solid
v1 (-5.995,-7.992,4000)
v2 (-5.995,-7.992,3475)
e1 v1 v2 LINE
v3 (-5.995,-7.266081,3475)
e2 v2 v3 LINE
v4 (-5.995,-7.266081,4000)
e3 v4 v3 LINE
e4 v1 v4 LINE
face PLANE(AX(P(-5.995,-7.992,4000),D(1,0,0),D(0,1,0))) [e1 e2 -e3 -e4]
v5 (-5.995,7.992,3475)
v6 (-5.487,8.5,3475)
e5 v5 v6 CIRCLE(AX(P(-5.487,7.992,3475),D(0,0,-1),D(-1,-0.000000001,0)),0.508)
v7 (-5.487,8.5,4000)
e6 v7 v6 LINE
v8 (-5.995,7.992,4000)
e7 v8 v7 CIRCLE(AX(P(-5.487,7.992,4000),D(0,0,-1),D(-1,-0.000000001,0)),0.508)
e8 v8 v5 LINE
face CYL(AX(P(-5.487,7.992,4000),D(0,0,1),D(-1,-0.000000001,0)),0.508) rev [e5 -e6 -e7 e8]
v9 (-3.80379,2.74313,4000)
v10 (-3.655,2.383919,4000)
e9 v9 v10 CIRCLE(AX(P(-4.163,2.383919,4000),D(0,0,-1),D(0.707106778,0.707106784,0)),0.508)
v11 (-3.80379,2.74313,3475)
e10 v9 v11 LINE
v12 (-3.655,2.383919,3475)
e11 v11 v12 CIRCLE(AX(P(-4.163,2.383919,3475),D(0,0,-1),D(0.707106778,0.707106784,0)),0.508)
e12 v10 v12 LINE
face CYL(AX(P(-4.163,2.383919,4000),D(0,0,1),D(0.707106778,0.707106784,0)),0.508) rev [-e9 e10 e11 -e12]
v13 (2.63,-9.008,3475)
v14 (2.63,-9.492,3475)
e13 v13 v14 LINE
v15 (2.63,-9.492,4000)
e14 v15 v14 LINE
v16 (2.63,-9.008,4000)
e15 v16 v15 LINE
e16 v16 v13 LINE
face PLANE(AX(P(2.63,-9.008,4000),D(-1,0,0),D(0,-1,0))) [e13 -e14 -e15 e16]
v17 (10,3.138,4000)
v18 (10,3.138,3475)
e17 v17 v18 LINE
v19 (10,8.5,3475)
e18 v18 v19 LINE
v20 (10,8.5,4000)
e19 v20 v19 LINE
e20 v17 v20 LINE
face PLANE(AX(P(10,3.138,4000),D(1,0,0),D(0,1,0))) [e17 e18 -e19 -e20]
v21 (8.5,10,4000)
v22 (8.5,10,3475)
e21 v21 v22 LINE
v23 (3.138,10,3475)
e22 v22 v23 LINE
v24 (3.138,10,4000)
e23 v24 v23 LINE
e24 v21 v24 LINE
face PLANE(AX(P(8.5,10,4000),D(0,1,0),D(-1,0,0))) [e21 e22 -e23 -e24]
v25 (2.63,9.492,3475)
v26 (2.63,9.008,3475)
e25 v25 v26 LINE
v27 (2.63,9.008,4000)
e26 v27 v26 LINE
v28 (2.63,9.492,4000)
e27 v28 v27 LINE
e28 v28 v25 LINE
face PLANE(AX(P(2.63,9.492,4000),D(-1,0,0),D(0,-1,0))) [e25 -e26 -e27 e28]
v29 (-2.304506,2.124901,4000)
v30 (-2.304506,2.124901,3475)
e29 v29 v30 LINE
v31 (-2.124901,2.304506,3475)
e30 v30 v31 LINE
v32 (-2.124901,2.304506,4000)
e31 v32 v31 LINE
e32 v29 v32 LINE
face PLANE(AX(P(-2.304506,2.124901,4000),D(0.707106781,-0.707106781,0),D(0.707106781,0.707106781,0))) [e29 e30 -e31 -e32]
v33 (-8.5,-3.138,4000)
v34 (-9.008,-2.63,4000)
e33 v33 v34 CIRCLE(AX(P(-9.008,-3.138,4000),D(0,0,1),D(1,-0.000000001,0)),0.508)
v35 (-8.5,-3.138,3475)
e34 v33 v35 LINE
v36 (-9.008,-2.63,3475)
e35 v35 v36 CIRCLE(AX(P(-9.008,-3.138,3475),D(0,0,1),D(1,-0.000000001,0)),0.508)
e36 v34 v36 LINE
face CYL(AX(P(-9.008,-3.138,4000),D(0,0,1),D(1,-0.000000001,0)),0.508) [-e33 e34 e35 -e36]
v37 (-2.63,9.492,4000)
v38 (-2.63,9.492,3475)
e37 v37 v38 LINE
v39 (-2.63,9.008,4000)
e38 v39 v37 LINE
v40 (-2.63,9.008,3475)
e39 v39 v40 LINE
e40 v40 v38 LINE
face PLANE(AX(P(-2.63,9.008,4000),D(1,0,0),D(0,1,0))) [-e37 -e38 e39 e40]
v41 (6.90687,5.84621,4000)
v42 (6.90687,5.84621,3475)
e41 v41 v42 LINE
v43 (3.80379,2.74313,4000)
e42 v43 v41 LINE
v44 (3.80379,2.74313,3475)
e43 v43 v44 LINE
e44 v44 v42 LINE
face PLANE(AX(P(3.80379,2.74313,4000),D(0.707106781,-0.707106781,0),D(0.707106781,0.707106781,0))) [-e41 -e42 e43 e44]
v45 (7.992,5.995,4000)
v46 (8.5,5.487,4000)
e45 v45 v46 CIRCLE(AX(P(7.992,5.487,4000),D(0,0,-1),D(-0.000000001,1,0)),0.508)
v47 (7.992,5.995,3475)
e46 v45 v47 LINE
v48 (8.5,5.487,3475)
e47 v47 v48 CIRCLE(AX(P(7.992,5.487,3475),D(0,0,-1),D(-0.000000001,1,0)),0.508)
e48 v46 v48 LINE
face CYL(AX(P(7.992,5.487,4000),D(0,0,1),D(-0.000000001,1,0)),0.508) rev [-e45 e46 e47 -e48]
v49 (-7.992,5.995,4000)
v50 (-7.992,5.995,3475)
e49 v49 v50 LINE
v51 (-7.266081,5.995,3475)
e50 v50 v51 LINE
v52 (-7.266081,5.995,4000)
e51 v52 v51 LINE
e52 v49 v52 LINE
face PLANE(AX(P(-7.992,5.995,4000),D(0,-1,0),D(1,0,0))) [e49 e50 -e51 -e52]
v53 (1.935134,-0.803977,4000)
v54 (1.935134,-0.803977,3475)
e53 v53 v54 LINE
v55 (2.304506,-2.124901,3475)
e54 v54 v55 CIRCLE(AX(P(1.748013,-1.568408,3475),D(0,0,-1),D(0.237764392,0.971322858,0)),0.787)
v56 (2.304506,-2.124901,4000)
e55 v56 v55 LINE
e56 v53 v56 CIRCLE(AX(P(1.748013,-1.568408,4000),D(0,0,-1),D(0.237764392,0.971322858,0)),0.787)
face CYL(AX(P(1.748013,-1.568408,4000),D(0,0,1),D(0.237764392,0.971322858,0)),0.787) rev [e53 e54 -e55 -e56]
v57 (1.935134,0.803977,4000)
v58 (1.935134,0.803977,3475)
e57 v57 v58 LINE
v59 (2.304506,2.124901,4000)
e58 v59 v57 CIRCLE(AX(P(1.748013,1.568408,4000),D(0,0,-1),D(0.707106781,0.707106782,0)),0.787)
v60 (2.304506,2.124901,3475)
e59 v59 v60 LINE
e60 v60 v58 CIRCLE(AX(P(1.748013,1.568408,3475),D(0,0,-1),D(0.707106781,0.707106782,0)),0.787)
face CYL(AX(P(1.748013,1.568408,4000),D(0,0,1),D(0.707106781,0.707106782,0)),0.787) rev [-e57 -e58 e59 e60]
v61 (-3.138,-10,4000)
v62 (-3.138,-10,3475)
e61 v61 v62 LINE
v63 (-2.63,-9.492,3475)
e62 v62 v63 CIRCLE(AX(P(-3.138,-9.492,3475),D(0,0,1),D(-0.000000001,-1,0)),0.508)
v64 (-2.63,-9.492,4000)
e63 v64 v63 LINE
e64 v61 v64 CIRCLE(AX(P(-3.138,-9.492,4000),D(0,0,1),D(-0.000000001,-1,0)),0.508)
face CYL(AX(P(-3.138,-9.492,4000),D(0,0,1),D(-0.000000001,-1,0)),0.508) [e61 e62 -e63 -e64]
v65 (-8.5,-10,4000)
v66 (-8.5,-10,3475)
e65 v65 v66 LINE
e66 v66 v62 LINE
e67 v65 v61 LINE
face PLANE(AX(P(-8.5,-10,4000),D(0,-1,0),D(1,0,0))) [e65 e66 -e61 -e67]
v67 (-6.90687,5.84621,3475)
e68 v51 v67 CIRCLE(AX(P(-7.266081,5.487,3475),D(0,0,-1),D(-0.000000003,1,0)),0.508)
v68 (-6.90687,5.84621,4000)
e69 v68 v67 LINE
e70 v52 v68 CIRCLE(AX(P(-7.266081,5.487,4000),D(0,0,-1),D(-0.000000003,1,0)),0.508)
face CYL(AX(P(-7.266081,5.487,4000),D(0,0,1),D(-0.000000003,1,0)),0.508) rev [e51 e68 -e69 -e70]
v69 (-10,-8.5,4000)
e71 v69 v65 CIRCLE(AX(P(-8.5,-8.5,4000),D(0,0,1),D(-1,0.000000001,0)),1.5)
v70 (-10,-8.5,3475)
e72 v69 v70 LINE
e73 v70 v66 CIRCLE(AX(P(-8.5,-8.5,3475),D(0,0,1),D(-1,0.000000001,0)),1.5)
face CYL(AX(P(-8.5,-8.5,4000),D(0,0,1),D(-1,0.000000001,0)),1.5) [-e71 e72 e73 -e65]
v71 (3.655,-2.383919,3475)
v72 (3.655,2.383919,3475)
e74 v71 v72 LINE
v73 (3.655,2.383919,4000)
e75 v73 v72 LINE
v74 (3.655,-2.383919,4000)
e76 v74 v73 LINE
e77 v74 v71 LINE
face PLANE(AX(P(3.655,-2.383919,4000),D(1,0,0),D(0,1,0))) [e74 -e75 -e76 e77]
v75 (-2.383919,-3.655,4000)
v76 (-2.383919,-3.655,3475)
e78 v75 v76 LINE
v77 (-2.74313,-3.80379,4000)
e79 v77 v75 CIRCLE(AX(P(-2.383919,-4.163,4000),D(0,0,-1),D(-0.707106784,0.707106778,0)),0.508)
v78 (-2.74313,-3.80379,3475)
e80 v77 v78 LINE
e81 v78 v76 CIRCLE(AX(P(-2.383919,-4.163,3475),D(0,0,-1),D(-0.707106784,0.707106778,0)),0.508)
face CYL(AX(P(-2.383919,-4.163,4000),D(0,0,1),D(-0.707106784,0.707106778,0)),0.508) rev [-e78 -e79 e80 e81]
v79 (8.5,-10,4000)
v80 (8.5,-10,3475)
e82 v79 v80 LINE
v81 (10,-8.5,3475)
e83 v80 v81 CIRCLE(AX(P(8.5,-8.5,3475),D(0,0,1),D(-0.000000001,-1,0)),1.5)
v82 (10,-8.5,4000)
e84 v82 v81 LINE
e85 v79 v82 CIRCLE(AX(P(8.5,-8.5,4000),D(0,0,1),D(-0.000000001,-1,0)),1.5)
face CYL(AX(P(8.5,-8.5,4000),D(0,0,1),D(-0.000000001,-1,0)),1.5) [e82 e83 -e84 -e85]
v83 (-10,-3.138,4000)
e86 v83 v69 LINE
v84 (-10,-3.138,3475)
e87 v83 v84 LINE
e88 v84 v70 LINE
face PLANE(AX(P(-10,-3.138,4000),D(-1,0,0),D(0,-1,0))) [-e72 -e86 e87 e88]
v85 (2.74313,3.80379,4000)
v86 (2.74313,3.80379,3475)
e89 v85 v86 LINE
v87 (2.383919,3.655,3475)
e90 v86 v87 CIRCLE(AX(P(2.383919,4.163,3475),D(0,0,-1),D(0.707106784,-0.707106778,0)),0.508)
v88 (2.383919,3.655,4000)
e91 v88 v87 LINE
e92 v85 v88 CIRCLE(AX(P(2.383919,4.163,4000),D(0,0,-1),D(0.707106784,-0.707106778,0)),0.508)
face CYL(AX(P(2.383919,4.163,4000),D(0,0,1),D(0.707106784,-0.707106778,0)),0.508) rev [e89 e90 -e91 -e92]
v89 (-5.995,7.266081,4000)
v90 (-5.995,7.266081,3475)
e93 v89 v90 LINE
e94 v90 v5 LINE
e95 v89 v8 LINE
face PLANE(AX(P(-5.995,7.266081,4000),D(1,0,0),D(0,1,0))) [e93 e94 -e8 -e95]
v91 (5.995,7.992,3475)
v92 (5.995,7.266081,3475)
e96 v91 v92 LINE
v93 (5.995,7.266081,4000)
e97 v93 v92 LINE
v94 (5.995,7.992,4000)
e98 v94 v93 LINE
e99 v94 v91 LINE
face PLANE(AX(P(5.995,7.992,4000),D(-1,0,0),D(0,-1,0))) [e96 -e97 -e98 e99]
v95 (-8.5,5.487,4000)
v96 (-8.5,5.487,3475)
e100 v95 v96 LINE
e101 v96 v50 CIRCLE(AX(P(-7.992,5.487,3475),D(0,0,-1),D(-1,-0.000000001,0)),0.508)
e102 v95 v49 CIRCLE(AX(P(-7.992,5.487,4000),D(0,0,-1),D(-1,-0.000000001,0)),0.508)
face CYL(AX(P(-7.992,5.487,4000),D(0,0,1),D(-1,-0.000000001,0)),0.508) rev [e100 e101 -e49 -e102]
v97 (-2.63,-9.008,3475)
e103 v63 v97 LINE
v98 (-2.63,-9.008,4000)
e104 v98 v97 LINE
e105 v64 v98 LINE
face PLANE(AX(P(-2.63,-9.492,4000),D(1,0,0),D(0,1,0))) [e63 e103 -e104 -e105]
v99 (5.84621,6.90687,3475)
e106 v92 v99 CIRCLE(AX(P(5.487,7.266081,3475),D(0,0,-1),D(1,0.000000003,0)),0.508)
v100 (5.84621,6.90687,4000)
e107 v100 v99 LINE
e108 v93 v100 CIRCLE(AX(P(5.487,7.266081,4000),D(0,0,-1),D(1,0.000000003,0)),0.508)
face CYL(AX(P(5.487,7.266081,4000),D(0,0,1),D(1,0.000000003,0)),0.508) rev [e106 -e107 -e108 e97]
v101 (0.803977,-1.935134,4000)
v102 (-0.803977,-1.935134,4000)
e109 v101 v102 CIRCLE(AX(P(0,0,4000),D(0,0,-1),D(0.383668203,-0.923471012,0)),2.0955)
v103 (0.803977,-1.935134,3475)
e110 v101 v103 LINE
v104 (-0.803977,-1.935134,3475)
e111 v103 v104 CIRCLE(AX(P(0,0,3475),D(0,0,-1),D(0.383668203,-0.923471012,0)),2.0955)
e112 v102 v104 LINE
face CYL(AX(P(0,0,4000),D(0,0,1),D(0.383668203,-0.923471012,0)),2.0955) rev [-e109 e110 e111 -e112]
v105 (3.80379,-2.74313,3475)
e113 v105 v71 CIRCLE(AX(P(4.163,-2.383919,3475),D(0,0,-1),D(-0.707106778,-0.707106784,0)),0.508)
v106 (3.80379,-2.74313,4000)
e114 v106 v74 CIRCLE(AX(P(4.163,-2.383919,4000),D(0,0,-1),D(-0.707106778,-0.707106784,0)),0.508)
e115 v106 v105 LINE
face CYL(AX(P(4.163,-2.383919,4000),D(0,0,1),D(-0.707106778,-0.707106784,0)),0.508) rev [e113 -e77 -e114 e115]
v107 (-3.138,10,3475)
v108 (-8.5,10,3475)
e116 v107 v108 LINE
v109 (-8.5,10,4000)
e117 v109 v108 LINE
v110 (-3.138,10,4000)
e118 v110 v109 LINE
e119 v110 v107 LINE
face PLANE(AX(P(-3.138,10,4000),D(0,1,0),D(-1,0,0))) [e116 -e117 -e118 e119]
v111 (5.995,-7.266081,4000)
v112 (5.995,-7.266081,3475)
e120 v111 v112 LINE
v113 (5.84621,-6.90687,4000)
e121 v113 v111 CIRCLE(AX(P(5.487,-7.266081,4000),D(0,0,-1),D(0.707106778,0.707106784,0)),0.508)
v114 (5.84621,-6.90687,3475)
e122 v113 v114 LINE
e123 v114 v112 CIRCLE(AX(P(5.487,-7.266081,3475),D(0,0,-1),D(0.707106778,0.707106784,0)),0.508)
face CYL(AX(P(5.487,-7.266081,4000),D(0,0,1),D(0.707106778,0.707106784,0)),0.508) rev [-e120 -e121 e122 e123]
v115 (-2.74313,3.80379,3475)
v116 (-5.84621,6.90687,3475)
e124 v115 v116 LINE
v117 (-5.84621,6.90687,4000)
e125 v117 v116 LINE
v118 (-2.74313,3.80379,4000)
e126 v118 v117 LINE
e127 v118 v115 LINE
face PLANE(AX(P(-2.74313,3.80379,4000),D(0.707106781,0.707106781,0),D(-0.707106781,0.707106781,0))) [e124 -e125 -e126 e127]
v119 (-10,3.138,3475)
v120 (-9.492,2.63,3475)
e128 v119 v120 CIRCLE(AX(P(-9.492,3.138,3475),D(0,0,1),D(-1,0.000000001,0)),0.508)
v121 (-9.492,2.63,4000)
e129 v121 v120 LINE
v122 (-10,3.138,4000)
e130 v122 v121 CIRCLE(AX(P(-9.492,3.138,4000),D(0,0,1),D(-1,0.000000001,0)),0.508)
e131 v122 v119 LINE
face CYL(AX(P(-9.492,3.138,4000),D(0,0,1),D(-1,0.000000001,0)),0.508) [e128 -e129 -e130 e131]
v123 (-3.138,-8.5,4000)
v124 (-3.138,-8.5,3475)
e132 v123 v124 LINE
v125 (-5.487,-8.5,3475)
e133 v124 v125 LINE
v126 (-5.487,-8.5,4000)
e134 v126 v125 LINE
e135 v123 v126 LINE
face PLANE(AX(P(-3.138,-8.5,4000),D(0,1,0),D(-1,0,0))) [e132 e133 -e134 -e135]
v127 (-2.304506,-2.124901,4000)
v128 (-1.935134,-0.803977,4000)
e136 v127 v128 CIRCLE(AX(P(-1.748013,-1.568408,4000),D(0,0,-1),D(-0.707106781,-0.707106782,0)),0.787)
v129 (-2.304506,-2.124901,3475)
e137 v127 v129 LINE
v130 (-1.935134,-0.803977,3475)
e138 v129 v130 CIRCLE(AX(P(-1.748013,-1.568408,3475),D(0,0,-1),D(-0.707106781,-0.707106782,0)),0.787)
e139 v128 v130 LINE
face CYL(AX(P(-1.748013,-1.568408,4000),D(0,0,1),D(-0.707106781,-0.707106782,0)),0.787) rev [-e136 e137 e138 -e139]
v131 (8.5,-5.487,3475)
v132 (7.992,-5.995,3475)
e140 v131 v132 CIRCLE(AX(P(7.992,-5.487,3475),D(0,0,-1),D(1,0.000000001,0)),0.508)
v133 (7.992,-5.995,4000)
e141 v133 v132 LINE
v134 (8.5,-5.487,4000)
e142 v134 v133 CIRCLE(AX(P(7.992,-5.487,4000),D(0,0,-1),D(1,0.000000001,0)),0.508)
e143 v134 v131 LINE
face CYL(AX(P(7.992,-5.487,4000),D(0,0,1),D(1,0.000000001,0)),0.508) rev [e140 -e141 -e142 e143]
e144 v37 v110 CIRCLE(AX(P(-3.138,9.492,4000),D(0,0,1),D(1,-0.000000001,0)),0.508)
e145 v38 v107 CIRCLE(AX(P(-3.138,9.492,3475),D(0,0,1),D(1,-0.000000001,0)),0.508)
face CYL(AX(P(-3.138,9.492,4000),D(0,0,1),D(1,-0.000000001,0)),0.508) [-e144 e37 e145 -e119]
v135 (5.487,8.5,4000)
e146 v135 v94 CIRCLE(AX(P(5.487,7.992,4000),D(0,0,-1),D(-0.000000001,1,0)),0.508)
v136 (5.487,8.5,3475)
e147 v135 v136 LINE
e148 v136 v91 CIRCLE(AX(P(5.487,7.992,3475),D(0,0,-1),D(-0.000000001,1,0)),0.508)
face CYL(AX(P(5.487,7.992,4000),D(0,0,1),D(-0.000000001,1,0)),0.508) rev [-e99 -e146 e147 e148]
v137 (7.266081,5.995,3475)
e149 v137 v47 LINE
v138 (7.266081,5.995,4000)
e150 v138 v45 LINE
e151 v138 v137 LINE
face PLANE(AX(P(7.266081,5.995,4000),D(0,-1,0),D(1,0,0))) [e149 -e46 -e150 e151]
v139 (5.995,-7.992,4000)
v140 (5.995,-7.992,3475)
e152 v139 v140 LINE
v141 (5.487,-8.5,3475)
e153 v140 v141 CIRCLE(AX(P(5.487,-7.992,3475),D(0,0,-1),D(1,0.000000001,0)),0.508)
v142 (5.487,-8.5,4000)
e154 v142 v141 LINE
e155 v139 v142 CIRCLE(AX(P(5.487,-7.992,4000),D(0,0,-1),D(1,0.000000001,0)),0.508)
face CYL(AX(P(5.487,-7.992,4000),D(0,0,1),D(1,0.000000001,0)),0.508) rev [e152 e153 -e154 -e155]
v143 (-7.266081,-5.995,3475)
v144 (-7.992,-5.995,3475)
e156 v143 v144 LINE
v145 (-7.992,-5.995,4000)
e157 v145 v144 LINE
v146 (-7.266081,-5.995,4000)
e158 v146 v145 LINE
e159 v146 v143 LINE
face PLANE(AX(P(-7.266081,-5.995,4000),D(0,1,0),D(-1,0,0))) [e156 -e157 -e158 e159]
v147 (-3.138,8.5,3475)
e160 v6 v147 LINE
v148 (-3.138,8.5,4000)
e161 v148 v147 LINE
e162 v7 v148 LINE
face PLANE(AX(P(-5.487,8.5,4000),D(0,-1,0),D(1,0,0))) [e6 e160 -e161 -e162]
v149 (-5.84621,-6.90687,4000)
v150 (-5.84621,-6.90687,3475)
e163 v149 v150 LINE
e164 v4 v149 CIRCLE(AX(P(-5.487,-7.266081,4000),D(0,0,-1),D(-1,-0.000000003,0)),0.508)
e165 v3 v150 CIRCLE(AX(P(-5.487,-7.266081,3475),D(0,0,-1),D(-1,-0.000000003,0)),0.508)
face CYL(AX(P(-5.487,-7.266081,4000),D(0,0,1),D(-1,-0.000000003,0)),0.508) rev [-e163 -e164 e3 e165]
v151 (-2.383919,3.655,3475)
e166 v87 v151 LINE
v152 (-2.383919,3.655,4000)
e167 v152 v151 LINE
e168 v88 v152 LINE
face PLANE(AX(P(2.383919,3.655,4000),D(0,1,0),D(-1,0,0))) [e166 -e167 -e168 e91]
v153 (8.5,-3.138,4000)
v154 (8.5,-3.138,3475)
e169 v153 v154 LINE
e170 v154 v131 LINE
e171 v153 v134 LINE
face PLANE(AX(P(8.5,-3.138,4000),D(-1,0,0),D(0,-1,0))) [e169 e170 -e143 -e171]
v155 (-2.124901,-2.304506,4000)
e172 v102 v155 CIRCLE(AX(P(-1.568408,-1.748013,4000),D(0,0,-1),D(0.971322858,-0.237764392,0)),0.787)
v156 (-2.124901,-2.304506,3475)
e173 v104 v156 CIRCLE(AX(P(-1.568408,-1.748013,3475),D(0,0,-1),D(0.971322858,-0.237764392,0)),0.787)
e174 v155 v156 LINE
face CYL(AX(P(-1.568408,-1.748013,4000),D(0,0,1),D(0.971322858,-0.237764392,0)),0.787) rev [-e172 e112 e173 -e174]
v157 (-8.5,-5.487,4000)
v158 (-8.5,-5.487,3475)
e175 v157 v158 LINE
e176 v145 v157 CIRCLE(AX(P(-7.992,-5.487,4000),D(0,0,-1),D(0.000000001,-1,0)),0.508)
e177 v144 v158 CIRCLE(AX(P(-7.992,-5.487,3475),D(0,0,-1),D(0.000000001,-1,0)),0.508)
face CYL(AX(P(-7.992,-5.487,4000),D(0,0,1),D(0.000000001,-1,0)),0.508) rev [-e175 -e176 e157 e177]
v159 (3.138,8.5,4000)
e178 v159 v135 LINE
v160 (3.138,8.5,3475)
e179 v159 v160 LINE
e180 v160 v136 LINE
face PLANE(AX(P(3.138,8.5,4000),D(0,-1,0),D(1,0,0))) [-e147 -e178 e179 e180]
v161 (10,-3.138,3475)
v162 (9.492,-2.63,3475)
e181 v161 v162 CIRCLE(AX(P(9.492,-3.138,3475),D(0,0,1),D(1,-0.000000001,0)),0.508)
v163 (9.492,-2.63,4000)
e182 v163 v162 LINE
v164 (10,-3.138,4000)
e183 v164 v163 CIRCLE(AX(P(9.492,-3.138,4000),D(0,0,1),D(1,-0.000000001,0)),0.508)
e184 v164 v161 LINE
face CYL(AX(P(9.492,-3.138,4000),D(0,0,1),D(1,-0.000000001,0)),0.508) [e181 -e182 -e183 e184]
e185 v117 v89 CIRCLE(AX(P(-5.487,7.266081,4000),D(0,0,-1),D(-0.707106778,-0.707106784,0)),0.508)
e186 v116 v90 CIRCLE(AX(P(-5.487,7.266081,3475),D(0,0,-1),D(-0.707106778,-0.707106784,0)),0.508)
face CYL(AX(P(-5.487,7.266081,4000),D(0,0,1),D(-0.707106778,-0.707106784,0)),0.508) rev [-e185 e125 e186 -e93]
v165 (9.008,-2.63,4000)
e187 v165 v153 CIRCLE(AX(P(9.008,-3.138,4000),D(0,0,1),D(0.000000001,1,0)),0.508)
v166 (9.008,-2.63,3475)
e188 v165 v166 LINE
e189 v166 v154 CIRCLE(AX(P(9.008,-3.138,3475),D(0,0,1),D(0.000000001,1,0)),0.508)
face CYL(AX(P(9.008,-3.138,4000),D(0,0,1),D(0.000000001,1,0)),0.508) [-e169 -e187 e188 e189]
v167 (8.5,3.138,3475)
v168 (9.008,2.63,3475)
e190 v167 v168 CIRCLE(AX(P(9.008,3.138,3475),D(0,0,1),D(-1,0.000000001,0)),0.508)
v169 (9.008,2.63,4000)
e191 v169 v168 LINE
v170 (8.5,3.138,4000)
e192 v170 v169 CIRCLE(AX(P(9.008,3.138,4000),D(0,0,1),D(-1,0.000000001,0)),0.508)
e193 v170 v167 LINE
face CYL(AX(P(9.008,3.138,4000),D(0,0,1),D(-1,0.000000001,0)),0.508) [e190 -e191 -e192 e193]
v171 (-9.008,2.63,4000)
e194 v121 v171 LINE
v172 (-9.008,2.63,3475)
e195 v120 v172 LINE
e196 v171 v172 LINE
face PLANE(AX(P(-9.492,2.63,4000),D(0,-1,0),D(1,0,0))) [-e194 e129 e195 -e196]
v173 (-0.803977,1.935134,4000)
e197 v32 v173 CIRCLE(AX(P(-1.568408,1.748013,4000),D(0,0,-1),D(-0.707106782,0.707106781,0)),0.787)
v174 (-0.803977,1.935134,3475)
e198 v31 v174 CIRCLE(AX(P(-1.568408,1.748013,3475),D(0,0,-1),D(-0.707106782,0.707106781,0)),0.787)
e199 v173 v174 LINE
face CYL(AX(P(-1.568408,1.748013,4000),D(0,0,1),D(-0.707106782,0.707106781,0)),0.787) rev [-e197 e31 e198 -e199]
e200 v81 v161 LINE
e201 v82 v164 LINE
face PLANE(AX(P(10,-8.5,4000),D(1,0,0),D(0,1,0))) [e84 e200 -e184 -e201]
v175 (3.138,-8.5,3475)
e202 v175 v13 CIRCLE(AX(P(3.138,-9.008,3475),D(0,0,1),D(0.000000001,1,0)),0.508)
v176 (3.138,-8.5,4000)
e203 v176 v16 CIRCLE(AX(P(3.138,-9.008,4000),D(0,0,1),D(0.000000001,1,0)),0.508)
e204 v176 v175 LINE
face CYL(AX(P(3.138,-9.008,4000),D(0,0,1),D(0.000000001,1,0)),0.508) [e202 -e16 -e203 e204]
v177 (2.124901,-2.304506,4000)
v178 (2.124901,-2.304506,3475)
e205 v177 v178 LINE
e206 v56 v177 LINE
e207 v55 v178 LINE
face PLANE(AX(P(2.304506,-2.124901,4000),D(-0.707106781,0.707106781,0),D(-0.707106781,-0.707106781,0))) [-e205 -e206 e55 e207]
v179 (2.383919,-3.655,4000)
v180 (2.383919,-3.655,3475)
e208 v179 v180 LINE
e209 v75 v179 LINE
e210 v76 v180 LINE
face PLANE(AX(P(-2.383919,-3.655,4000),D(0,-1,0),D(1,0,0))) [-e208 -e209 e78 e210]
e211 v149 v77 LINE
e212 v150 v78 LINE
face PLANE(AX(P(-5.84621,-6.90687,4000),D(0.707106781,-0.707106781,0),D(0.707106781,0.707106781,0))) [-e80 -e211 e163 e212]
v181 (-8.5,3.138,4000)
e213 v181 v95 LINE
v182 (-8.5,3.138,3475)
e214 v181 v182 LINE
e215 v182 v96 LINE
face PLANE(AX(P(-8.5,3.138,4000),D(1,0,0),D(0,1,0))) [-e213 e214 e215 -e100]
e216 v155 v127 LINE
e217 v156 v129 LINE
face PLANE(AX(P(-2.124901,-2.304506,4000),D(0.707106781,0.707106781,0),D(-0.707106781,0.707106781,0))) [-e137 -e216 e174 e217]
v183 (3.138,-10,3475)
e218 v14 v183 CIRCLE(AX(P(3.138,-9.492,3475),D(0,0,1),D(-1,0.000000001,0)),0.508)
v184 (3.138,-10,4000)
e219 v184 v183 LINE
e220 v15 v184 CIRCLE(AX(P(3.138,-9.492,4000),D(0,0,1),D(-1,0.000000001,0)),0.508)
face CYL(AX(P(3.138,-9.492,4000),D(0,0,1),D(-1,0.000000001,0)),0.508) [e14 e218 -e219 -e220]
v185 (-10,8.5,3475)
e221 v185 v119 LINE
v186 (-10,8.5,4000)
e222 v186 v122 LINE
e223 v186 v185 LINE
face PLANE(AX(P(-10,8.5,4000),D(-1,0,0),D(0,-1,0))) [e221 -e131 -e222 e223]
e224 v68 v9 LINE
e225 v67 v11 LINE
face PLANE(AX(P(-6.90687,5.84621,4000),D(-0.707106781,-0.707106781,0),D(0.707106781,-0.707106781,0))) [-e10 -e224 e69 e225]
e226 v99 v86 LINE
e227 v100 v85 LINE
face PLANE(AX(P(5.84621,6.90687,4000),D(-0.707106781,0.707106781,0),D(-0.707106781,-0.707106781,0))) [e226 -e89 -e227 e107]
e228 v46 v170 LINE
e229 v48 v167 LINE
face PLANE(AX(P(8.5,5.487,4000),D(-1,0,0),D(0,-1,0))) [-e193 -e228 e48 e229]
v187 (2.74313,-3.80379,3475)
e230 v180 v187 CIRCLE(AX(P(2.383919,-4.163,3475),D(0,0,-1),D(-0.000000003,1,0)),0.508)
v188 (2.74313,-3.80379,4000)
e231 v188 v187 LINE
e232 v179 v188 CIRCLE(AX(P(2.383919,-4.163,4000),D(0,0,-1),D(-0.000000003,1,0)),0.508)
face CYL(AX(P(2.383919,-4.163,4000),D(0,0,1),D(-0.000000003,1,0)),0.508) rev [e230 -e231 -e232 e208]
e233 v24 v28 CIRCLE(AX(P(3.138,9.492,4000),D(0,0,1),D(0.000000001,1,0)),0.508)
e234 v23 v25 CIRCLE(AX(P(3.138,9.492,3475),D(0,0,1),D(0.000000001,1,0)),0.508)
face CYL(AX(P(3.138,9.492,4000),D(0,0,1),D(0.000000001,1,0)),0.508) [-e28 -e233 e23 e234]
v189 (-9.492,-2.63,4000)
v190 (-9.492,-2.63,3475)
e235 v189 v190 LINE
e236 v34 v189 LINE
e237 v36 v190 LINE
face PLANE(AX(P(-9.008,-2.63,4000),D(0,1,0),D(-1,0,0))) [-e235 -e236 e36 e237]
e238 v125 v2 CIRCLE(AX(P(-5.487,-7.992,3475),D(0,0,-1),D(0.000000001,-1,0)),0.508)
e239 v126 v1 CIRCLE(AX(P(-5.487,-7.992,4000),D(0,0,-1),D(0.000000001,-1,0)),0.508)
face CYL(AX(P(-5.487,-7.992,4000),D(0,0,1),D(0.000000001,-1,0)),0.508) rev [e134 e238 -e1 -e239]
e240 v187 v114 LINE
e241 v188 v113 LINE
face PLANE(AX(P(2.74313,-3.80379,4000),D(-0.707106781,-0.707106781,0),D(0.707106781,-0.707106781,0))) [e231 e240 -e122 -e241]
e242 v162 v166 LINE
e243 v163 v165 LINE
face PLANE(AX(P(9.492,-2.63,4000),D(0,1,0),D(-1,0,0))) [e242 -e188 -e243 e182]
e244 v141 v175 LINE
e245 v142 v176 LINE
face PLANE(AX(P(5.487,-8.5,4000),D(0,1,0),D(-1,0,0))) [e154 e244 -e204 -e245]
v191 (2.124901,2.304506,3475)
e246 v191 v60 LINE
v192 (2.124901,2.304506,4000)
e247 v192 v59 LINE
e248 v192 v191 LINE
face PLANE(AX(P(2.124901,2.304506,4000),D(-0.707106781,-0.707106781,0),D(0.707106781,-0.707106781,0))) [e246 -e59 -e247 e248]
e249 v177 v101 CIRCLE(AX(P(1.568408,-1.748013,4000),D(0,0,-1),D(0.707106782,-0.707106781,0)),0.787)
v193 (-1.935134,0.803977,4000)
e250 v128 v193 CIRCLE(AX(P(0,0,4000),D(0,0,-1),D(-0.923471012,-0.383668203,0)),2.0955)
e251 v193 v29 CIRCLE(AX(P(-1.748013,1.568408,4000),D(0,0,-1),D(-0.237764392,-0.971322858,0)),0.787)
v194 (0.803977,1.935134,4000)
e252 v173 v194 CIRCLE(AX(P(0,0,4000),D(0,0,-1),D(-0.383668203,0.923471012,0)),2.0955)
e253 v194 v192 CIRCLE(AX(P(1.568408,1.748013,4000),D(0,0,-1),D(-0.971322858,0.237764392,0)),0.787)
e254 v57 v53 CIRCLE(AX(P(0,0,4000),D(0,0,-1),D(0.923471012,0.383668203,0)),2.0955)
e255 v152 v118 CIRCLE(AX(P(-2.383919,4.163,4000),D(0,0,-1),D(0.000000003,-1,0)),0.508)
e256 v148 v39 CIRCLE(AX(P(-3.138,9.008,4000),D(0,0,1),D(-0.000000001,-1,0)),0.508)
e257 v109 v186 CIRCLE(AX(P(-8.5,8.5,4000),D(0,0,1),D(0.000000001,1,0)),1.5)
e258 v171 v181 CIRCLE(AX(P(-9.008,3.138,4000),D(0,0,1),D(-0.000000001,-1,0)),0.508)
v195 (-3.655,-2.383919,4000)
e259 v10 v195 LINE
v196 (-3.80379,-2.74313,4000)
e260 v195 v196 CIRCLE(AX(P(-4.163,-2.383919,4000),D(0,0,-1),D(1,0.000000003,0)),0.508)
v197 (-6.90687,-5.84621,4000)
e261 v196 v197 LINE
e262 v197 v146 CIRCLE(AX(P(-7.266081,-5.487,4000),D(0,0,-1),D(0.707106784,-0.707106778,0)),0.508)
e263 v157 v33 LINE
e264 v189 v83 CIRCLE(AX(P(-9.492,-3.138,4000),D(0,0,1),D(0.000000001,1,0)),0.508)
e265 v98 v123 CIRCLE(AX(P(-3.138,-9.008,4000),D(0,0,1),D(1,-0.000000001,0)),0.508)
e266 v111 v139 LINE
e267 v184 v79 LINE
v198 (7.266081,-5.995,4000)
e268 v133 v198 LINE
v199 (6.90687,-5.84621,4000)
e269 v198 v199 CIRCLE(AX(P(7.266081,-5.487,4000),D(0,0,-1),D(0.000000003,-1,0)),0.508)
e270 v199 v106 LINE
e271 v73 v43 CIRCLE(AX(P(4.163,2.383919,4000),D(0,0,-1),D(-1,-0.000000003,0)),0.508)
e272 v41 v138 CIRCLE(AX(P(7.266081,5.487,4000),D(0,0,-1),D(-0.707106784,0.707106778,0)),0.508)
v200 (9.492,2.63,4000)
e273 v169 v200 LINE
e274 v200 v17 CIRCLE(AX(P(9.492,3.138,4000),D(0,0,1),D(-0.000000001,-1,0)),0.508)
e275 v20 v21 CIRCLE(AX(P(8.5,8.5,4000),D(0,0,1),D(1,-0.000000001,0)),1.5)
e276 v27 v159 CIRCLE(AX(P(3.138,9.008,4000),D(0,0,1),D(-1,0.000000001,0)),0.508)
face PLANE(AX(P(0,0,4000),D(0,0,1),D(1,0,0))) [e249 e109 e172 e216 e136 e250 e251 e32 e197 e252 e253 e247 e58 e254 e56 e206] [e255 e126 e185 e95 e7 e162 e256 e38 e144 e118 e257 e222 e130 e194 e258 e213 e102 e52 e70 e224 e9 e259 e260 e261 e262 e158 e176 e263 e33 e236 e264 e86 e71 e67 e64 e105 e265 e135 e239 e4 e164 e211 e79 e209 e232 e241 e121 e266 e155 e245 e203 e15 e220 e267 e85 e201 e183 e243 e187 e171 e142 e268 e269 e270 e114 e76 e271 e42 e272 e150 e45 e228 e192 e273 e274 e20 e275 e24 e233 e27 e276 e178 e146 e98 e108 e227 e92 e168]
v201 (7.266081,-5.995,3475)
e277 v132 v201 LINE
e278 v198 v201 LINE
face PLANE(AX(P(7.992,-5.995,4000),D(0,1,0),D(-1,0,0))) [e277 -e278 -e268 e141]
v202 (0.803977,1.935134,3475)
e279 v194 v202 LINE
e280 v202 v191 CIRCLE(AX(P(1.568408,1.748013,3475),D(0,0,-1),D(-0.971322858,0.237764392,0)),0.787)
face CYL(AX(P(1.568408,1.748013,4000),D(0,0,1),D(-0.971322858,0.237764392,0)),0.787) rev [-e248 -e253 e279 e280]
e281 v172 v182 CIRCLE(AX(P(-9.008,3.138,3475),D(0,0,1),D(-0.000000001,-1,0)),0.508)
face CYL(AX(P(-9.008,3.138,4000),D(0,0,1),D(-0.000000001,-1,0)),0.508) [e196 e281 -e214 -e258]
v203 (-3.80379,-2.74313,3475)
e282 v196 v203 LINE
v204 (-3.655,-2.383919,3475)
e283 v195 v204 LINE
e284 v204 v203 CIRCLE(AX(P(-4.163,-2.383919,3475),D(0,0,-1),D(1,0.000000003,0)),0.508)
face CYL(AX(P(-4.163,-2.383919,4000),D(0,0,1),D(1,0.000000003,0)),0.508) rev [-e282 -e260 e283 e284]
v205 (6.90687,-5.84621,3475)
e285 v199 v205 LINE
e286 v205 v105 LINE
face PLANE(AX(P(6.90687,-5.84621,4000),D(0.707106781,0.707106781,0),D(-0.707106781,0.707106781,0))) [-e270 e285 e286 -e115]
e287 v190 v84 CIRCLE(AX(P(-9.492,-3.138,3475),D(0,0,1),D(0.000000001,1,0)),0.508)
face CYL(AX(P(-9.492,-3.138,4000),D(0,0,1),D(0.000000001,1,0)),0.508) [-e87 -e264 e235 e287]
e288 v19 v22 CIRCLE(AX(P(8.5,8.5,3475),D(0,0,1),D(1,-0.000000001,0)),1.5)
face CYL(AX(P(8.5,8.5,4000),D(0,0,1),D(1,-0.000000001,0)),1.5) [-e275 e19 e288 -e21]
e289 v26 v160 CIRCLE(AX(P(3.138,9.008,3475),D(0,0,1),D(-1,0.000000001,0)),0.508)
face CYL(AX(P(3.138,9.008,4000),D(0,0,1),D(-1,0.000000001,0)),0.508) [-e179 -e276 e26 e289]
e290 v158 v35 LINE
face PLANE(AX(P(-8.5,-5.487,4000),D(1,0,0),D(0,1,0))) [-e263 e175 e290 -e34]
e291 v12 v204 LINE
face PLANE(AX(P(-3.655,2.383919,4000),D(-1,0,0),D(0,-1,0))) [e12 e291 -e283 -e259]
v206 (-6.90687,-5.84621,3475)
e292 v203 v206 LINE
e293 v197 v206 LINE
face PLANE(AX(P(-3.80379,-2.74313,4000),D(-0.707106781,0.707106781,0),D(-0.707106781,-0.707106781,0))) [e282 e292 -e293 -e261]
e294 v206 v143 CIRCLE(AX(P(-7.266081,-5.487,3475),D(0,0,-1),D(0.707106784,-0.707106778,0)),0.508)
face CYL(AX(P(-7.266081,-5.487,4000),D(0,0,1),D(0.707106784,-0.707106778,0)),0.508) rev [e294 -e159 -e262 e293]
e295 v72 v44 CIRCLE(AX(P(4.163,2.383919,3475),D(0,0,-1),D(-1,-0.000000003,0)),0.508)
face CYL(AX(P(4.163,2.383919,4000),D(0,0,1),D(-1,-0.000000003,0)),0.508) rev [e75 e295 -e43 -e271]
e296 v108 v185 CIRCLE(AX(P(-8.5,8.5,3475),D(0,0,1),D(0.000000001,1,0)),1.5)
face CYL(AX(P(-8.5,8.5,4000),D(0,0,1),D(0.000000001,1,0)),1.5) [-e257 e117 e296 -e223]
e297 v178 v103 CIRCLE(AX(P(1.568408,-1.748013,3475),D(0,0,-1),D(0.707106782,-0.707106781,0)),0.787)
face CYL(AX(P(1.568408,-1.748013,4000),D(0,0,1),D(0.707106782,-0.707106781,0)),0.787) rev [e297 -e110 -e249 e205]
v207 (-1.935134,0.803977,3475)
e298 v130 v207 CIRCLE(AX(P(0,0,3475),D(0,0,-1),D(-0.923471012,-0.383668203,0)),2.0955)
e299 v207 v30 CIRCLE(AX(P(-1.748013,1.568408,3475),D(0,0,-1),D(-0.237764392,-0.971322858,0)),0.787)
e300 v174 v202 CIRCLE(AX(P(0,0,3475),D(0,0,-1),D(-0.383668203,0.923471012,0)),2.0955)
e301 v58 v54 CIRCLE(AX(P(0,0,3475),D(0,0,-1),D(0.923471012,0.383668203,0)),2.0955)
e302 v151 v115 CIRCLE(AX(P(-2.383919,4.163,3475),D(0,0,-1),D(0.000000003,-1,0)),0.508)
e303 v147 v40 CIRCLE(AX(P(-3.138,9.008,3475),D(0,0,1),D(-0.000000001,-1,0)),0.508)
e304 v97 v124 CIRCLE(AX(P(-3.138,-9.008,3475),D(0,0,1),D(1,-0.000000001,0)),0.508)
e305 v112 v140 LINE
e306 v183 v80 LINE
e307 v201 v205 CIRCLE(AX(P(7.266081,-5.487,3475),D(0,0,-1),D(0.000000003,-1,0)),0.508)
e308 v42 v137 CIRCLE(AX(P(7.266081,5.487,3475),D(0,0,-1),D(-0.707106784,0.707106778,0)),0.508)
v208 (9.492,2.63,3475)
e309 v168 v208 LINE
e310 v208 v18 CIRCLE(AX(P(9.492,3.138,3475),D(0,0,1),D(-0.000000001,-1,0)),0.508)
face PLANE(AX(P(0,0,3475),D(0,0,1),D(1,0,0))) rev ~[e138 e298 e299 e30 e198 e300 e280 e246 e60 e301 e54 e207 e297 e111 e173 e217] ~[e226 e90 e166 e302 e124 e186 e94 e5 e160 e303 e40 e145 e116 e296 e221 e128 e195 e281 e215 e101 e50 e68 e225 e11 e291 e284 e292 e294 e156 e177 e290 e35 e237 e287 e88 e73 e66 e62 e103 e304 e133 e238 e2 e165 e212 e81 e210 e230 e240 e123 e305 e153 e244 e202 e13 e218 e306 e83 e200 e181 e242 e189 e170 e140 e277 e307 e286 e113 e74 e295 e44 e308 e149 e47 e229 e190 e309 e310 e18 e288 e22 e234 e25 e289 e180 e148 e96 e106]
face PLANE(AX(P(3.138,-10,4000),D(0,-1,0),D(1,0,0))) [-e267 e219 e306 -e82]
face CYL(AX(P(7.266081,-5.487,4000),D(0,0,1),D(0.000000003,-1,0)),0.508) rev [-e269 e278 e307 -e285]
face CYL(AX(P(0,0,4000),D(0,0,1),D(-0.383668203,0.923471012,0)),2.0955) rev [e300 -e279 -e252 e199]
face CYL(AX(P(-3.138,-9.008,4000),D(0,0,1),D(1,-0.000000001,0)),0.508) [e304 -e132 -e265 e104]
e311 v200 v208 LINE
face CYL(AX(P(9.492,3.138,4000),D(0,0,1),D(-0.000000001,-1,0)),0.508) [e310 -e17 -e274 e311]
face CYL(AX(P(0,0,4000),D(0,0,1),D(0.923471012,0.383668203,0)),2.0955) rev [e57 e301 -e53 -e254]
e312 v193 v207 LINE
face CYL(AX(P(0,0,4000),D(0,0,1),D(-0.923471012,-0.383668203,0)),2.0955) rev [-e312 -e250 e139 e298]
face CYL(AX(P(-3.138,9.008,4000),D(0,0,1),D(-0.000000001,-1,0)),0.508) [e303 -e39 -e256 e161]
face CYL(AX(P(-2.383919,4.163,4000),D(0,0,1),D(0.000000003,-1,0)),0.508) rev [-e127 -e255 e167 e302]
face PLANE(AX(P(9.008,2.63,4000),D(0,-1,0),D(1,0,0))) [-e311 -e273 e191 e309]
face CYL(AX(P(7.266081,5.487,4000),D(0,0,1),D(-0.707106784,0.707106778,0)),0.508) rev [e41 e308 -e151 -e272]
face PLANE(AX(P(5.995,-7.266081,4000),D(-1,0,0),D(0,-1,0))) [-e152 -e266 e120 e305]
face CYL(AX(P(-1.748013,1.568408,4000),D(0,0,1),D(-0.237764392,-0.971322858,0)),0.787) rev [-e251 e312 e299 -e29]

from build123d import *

# Parameters (mm, degrees)
BOSS_EXTRUDE1_DEPTH = 525


with BuildPart() as part:
    # Sketch1 → Boss-Extrude1 (new body)
    with BuildSketch(Plane.XY.offset(4000)):
        with BuildLine():
            Line((10, 3.138), (10, 8.5))
            ThreePointArc((10, 8.5), (9.560660172, 9.560660172), (8.5, 10))
            Line((8.5, 10), (3.138, 10))
            ThreePointArc((3.138, 10), (2.778789755, 9.851210245), (2.63, 9.492))
            Line((2.63, 9.492), (2.63, 9.008))
            ThreePointArc((2.63, 9.008), (2.778789755, 8.648789755), (3.138, 8.5))
            Line((3.138, 8.5), (5.487, 8.5))
            ThreePointArc((5.487, 8.5), (5.846210245, 8.351210245), (5.995, 7.992))
            Line((5.995, 7.992), (5.995, 7.266080661))
            ThreePointArc((5.995, 7.266080661), (5.956330803, 7.071677478), (5.846210245, 6.906870417))
            Line((5.846210245, 6.906870417), (2.743129583, 3.803789755))
            ThreePointArc((2.743129583, 3.803789755), (2.578322522, 3.693669197), (2.383919339, 3.655))
            Line((2.383919339, 3.655), (-2.383919339, 3.655))
            ThreePointArc((-2.383919339, 3.655), (-2.578322522, 3.693669197), (-2.743129583, 3.803789755))
            Line((-2.743129583, 3.803789755), (-5.846210245, 6.906870417))
            ThreePointArc((-5.846210245, 6.906870417), (-5.956330803, 7.071677478), (-5.995, 7.266080661))
            Line((-5.995, 7.266080661), (-5.995, 7.992))
            ThreePointArc((-5.995, 7.992), (-5.846210245, 8.351210245), (-5.487, 8.5))
            Line((-5.487, 8.5), (-3.138, 8.5))
            ThreePointArc((-3.138, 8.5), (-2.778789755, 8.648789755), (-2.63, 9.008))
            Line((-2.63, 9.008), (-2.63, 9.492))
            ThreePointArc((-2.63, 9.492), (-2.778789755, 9.851210245), (-3.138, 10))
            Line((-3.138, 10), (-8.5, 10))
            ThreePointArc((-8.5, 10), (-9.560660172, 9.560660172), (-10, 8.5))
            Line((-10, 8.5), (-10, 3.138))
            ThreePointArc((-10, 3.138), (-9.851210245, 2.778789755), (-9.492, 2.63))
            Line((-9.492, 2.63), (-9.008, 2.63))
            ThreePointArc((-9.008, 2.63), (-8.648789755, 2.778789755), (-8.5, 3.138))
            Line((-8.5, 3.138), (-8.5, 5.487))
            ThreePointArc((-8.5, 5.487), (-8.351210245, 5.846210245), (-7.992, 5.995))
            Line((-7.992, 5.995), (-7.266080661, 5.995))
            ThreePointArc((-7.266080661, 5.995), (-7.071677478, 5.956330803), (-6.906870417, 5.846210245))
            Line((-6.906870417, 5.846210245), (-3.803789755, 2.743129583))
            ThreePointArc((-3.803789755, 2.743129583), (-3.693669197, 2.578322522), (-3.655, 2.383919339))
            Line((-3.655, 2.383919339), (-3.655, -2.383919339))
            ThreePointArc((-3.655, -2.383919339), (-3.693669197, -2.578322522), (-3.803789755, -2.743129583))
            Line((-3.803789755, -2.743129583), (-6.906870417, -5.846210245))
            ThreePointArc((-6.906870417, -5.846210245), (-7.071677478, -5.956330803), (-7.266080661, -5.995))
            Line((-7.266080661, -5.995), (-7.992, -5.995))
            ThreePointArc((-7.992, -5.995), (-8.351210245, -5.846210245), (-8.5, -5.487))
            Line((-8.5, -5.487), (-8.5, -3.138))
            ThreePointArc((-8.5, -3.138), (-8.648789755, -2.778789755), (-9.008, -2.63))
            Line((-9.008, -2.63), (-9.492, -2.63))
            ThreePointArc((-9.492, -2.63), (-9.851210245, -2.778789755), (-10, -3.138))
            Line((-10, -3.138), (-10, -8.5))
            ThreePointArc((-10, -8.5), (-9.560660172, -9.560660172), (-8.5, -10))
            Line((-8.5, -10), (-3.138, -10))
            ThreePointArc((-3.138, -10), (-2.778789755, -9.851210245), (-2.63, -9.492))
            Line((-2.63, -9.492), (-2.63, -9.008))
            ThreePointArc((-2.63, -9.008), (-2.778789755, -8.648789755), (-3.138, -8.5))
            Line((-3.138, -8.5), (-5.487, -8.5))
            ThreePointArc((-5.487, -8.5), (-5.846210245, -8.351210245), (-5.995, -7.992))
            Line((-5.995, -7.992), (-5.995, -7.266080661))
            ThreePointArc((-5.995, -7.266080661), (-5.956330803, -7.071677478), (-5.846210245, -6.906870417))
            Line((-5.846210245, -6.906870417), (-2.743129583, -3.803789755))
            ThreePointArc((-2.743129583, -3.803789755), (-2.578322522, -3.693669197), (-2.383919339, -3.655))
            Line((-2.383919339, -3.655), (2.383919339, -3.655))
            ThreePointArc((2.383919339, -3.655), (2.578322522, -3.693669197), (2.743129583, -3.803789755))
            Line((2.743129583, -3.803789755), (5.846210245, -6.906870417))
            ThreePointArc((5.846210245, -6.906870417), (5.956330803, -7.071677478), (5.995, -7.266080661))
            Line((5.995, -7.266080661), (5.995, -7.992))
            ThreePointArc((5.995, -7.992), (5.846210245, -8.351210245), (5.487, -8.5))
            Line((5.487, -8.5), (3.138, -8.5))
            ThreePointArc((3.138, -8.5), (2.778789755, -8.648789755), (2.63, -9.008))
            Line((2.63, -9.008), (2.63, -9.492))
            ThreePointArc((2.63, -9.492), (2.778789755, -9.851210245), (3.138, -10))
            Line((3.138, -10), (8.5, -10))
            ThreePointArc((8.5, -10), (9.560660172, -9.560660172), (10, -8.5))
            Line((10, -8.5), (10, -3.138))
            ThreePointArc((10, -3.138), (9.851210245, -2.778789755), (9.492, -2.63))
            Line((9.492, -2.63), (9.008, -2.63))
            ThreePointArc((9.008, -2.63), (8.648789755, -2.778789755), (8.5, -3.138))
            Line((8.5, -3.138), (8.5, -5.487))
            ThreePointArc((8.5, -5.487), (8.351210245, -5.846210245), (7.992, -5.995))
            Line((7.992, -5.995), (7.266080661, -5.995))
            ThreePointArc((7.266080661, -5.995), (7.071677478, -5.956330803), (6.906870417, -5.846210245))
            Line((6.906870417, -5.846210245), (3.803789755, -2.743129583))
            ThreePointArc((3.803789755, -2.743129583), (3.693669197, -2.578322522), (3.655, -2.383919339))
            Line((3.655, -2.383919339), (3.655, 2.383919339))
            ThreePointArc((3.655, 2.383919339), (3.693669197, 2.578322522), (3.803789755, 2.743129583))
            Line((3.803789755, 2.743129583), (6.906870417, 5.846210245))
            ThreePointArc((6.906870417, 5.846210245), (7.071677478, 5.956330803), (7.266080661, 5.995))
            Line((7.266080661, 5.995), (7.992, 5.995))
            ThreePointArc((7.992, 5.995), (8.351210245, 5.846210245), (8.5, 5.487))
            Line((8.5, 5.487), (8.5, 3.138))
            ThreePointArc((8.5, 3.138), (8.648789755, 2.778789755), (9.008, 2.63))
            Line((9.008, 2.63), (9.492, 2.63))
            ThreePointArc((9.492, 2.63), (9.851210245, 2.778789755), (10, 3.138))
        make_face()
        with BuildLine():
            Line((-2.124900844, -2.304505966), (-2.304505966, -2.124900844))
            ThreePointArc((-2.304505966, -2.124900844), (-2.505938017, -1.356467811), (-1.935133506, -0.803976718))
            ThreePointArc((-1.935133506, -0.803976718), (-2.0955, 0), (-1.935133506, 0.803976718))
            ThreePointArc((-1.935133506, 0.803976718), (-2.505938017, 1.356467811), (-2.304505966, 2.124900844))
            Line((-2.304505966, 2.124900844), (-2.124900844, 2.304505966))
            ThreePointArc((-2.124900844, 2.304505966), (-1.356467811, 2.505938017), (-0.803976718, 1.935133506))
            ThreePointArc((-0.803976718, 1.935133506), (0, 2.0955), (0.803976718, 1.935133506))
            ThreePointArc((0.803976718, 1.935133506), (1.356467811, 2.505938017), (2.124900844, 2.304505966))
            Line((2.124900844, 2.304505966), (2.304505966, 2.124900844))
            ThreePointArc((2.304505966, 2.124900844), (2.505938017, 1.356467811), (1.935133506, 0.803976718))
            ThreePointArc((1.935133506, 0.803976718), (2.0955, 0), (1.935133506, -0.803976718))
            ThreePointArc((1.935133506, -0.803976718), (2.505938017, -1.356467811), (2.304505966, -2.124900844))
            Line((2.304505966, -2.124900844), (2.124900844, -2.304505966))
            ThreePointArc((2.124900844, -2.304505966), (1.356467811, -2.505938017), (0.803976718, -1.935133506))
            ThreePointArc((0.803976718, -1.935133506), (0, -2.0955), (-0.803976718, -1.935133506))
            ThreePointArc((-0.803976718, -1.935133506), (-1.356467811, -2.505938017), (-2.124900844, -2.304505966))
        make_face(mode=Mode.SUBTRACT)
    extrude(amount=-BOSS_EXTRUDE1_DEPTH)


solid = part.part
